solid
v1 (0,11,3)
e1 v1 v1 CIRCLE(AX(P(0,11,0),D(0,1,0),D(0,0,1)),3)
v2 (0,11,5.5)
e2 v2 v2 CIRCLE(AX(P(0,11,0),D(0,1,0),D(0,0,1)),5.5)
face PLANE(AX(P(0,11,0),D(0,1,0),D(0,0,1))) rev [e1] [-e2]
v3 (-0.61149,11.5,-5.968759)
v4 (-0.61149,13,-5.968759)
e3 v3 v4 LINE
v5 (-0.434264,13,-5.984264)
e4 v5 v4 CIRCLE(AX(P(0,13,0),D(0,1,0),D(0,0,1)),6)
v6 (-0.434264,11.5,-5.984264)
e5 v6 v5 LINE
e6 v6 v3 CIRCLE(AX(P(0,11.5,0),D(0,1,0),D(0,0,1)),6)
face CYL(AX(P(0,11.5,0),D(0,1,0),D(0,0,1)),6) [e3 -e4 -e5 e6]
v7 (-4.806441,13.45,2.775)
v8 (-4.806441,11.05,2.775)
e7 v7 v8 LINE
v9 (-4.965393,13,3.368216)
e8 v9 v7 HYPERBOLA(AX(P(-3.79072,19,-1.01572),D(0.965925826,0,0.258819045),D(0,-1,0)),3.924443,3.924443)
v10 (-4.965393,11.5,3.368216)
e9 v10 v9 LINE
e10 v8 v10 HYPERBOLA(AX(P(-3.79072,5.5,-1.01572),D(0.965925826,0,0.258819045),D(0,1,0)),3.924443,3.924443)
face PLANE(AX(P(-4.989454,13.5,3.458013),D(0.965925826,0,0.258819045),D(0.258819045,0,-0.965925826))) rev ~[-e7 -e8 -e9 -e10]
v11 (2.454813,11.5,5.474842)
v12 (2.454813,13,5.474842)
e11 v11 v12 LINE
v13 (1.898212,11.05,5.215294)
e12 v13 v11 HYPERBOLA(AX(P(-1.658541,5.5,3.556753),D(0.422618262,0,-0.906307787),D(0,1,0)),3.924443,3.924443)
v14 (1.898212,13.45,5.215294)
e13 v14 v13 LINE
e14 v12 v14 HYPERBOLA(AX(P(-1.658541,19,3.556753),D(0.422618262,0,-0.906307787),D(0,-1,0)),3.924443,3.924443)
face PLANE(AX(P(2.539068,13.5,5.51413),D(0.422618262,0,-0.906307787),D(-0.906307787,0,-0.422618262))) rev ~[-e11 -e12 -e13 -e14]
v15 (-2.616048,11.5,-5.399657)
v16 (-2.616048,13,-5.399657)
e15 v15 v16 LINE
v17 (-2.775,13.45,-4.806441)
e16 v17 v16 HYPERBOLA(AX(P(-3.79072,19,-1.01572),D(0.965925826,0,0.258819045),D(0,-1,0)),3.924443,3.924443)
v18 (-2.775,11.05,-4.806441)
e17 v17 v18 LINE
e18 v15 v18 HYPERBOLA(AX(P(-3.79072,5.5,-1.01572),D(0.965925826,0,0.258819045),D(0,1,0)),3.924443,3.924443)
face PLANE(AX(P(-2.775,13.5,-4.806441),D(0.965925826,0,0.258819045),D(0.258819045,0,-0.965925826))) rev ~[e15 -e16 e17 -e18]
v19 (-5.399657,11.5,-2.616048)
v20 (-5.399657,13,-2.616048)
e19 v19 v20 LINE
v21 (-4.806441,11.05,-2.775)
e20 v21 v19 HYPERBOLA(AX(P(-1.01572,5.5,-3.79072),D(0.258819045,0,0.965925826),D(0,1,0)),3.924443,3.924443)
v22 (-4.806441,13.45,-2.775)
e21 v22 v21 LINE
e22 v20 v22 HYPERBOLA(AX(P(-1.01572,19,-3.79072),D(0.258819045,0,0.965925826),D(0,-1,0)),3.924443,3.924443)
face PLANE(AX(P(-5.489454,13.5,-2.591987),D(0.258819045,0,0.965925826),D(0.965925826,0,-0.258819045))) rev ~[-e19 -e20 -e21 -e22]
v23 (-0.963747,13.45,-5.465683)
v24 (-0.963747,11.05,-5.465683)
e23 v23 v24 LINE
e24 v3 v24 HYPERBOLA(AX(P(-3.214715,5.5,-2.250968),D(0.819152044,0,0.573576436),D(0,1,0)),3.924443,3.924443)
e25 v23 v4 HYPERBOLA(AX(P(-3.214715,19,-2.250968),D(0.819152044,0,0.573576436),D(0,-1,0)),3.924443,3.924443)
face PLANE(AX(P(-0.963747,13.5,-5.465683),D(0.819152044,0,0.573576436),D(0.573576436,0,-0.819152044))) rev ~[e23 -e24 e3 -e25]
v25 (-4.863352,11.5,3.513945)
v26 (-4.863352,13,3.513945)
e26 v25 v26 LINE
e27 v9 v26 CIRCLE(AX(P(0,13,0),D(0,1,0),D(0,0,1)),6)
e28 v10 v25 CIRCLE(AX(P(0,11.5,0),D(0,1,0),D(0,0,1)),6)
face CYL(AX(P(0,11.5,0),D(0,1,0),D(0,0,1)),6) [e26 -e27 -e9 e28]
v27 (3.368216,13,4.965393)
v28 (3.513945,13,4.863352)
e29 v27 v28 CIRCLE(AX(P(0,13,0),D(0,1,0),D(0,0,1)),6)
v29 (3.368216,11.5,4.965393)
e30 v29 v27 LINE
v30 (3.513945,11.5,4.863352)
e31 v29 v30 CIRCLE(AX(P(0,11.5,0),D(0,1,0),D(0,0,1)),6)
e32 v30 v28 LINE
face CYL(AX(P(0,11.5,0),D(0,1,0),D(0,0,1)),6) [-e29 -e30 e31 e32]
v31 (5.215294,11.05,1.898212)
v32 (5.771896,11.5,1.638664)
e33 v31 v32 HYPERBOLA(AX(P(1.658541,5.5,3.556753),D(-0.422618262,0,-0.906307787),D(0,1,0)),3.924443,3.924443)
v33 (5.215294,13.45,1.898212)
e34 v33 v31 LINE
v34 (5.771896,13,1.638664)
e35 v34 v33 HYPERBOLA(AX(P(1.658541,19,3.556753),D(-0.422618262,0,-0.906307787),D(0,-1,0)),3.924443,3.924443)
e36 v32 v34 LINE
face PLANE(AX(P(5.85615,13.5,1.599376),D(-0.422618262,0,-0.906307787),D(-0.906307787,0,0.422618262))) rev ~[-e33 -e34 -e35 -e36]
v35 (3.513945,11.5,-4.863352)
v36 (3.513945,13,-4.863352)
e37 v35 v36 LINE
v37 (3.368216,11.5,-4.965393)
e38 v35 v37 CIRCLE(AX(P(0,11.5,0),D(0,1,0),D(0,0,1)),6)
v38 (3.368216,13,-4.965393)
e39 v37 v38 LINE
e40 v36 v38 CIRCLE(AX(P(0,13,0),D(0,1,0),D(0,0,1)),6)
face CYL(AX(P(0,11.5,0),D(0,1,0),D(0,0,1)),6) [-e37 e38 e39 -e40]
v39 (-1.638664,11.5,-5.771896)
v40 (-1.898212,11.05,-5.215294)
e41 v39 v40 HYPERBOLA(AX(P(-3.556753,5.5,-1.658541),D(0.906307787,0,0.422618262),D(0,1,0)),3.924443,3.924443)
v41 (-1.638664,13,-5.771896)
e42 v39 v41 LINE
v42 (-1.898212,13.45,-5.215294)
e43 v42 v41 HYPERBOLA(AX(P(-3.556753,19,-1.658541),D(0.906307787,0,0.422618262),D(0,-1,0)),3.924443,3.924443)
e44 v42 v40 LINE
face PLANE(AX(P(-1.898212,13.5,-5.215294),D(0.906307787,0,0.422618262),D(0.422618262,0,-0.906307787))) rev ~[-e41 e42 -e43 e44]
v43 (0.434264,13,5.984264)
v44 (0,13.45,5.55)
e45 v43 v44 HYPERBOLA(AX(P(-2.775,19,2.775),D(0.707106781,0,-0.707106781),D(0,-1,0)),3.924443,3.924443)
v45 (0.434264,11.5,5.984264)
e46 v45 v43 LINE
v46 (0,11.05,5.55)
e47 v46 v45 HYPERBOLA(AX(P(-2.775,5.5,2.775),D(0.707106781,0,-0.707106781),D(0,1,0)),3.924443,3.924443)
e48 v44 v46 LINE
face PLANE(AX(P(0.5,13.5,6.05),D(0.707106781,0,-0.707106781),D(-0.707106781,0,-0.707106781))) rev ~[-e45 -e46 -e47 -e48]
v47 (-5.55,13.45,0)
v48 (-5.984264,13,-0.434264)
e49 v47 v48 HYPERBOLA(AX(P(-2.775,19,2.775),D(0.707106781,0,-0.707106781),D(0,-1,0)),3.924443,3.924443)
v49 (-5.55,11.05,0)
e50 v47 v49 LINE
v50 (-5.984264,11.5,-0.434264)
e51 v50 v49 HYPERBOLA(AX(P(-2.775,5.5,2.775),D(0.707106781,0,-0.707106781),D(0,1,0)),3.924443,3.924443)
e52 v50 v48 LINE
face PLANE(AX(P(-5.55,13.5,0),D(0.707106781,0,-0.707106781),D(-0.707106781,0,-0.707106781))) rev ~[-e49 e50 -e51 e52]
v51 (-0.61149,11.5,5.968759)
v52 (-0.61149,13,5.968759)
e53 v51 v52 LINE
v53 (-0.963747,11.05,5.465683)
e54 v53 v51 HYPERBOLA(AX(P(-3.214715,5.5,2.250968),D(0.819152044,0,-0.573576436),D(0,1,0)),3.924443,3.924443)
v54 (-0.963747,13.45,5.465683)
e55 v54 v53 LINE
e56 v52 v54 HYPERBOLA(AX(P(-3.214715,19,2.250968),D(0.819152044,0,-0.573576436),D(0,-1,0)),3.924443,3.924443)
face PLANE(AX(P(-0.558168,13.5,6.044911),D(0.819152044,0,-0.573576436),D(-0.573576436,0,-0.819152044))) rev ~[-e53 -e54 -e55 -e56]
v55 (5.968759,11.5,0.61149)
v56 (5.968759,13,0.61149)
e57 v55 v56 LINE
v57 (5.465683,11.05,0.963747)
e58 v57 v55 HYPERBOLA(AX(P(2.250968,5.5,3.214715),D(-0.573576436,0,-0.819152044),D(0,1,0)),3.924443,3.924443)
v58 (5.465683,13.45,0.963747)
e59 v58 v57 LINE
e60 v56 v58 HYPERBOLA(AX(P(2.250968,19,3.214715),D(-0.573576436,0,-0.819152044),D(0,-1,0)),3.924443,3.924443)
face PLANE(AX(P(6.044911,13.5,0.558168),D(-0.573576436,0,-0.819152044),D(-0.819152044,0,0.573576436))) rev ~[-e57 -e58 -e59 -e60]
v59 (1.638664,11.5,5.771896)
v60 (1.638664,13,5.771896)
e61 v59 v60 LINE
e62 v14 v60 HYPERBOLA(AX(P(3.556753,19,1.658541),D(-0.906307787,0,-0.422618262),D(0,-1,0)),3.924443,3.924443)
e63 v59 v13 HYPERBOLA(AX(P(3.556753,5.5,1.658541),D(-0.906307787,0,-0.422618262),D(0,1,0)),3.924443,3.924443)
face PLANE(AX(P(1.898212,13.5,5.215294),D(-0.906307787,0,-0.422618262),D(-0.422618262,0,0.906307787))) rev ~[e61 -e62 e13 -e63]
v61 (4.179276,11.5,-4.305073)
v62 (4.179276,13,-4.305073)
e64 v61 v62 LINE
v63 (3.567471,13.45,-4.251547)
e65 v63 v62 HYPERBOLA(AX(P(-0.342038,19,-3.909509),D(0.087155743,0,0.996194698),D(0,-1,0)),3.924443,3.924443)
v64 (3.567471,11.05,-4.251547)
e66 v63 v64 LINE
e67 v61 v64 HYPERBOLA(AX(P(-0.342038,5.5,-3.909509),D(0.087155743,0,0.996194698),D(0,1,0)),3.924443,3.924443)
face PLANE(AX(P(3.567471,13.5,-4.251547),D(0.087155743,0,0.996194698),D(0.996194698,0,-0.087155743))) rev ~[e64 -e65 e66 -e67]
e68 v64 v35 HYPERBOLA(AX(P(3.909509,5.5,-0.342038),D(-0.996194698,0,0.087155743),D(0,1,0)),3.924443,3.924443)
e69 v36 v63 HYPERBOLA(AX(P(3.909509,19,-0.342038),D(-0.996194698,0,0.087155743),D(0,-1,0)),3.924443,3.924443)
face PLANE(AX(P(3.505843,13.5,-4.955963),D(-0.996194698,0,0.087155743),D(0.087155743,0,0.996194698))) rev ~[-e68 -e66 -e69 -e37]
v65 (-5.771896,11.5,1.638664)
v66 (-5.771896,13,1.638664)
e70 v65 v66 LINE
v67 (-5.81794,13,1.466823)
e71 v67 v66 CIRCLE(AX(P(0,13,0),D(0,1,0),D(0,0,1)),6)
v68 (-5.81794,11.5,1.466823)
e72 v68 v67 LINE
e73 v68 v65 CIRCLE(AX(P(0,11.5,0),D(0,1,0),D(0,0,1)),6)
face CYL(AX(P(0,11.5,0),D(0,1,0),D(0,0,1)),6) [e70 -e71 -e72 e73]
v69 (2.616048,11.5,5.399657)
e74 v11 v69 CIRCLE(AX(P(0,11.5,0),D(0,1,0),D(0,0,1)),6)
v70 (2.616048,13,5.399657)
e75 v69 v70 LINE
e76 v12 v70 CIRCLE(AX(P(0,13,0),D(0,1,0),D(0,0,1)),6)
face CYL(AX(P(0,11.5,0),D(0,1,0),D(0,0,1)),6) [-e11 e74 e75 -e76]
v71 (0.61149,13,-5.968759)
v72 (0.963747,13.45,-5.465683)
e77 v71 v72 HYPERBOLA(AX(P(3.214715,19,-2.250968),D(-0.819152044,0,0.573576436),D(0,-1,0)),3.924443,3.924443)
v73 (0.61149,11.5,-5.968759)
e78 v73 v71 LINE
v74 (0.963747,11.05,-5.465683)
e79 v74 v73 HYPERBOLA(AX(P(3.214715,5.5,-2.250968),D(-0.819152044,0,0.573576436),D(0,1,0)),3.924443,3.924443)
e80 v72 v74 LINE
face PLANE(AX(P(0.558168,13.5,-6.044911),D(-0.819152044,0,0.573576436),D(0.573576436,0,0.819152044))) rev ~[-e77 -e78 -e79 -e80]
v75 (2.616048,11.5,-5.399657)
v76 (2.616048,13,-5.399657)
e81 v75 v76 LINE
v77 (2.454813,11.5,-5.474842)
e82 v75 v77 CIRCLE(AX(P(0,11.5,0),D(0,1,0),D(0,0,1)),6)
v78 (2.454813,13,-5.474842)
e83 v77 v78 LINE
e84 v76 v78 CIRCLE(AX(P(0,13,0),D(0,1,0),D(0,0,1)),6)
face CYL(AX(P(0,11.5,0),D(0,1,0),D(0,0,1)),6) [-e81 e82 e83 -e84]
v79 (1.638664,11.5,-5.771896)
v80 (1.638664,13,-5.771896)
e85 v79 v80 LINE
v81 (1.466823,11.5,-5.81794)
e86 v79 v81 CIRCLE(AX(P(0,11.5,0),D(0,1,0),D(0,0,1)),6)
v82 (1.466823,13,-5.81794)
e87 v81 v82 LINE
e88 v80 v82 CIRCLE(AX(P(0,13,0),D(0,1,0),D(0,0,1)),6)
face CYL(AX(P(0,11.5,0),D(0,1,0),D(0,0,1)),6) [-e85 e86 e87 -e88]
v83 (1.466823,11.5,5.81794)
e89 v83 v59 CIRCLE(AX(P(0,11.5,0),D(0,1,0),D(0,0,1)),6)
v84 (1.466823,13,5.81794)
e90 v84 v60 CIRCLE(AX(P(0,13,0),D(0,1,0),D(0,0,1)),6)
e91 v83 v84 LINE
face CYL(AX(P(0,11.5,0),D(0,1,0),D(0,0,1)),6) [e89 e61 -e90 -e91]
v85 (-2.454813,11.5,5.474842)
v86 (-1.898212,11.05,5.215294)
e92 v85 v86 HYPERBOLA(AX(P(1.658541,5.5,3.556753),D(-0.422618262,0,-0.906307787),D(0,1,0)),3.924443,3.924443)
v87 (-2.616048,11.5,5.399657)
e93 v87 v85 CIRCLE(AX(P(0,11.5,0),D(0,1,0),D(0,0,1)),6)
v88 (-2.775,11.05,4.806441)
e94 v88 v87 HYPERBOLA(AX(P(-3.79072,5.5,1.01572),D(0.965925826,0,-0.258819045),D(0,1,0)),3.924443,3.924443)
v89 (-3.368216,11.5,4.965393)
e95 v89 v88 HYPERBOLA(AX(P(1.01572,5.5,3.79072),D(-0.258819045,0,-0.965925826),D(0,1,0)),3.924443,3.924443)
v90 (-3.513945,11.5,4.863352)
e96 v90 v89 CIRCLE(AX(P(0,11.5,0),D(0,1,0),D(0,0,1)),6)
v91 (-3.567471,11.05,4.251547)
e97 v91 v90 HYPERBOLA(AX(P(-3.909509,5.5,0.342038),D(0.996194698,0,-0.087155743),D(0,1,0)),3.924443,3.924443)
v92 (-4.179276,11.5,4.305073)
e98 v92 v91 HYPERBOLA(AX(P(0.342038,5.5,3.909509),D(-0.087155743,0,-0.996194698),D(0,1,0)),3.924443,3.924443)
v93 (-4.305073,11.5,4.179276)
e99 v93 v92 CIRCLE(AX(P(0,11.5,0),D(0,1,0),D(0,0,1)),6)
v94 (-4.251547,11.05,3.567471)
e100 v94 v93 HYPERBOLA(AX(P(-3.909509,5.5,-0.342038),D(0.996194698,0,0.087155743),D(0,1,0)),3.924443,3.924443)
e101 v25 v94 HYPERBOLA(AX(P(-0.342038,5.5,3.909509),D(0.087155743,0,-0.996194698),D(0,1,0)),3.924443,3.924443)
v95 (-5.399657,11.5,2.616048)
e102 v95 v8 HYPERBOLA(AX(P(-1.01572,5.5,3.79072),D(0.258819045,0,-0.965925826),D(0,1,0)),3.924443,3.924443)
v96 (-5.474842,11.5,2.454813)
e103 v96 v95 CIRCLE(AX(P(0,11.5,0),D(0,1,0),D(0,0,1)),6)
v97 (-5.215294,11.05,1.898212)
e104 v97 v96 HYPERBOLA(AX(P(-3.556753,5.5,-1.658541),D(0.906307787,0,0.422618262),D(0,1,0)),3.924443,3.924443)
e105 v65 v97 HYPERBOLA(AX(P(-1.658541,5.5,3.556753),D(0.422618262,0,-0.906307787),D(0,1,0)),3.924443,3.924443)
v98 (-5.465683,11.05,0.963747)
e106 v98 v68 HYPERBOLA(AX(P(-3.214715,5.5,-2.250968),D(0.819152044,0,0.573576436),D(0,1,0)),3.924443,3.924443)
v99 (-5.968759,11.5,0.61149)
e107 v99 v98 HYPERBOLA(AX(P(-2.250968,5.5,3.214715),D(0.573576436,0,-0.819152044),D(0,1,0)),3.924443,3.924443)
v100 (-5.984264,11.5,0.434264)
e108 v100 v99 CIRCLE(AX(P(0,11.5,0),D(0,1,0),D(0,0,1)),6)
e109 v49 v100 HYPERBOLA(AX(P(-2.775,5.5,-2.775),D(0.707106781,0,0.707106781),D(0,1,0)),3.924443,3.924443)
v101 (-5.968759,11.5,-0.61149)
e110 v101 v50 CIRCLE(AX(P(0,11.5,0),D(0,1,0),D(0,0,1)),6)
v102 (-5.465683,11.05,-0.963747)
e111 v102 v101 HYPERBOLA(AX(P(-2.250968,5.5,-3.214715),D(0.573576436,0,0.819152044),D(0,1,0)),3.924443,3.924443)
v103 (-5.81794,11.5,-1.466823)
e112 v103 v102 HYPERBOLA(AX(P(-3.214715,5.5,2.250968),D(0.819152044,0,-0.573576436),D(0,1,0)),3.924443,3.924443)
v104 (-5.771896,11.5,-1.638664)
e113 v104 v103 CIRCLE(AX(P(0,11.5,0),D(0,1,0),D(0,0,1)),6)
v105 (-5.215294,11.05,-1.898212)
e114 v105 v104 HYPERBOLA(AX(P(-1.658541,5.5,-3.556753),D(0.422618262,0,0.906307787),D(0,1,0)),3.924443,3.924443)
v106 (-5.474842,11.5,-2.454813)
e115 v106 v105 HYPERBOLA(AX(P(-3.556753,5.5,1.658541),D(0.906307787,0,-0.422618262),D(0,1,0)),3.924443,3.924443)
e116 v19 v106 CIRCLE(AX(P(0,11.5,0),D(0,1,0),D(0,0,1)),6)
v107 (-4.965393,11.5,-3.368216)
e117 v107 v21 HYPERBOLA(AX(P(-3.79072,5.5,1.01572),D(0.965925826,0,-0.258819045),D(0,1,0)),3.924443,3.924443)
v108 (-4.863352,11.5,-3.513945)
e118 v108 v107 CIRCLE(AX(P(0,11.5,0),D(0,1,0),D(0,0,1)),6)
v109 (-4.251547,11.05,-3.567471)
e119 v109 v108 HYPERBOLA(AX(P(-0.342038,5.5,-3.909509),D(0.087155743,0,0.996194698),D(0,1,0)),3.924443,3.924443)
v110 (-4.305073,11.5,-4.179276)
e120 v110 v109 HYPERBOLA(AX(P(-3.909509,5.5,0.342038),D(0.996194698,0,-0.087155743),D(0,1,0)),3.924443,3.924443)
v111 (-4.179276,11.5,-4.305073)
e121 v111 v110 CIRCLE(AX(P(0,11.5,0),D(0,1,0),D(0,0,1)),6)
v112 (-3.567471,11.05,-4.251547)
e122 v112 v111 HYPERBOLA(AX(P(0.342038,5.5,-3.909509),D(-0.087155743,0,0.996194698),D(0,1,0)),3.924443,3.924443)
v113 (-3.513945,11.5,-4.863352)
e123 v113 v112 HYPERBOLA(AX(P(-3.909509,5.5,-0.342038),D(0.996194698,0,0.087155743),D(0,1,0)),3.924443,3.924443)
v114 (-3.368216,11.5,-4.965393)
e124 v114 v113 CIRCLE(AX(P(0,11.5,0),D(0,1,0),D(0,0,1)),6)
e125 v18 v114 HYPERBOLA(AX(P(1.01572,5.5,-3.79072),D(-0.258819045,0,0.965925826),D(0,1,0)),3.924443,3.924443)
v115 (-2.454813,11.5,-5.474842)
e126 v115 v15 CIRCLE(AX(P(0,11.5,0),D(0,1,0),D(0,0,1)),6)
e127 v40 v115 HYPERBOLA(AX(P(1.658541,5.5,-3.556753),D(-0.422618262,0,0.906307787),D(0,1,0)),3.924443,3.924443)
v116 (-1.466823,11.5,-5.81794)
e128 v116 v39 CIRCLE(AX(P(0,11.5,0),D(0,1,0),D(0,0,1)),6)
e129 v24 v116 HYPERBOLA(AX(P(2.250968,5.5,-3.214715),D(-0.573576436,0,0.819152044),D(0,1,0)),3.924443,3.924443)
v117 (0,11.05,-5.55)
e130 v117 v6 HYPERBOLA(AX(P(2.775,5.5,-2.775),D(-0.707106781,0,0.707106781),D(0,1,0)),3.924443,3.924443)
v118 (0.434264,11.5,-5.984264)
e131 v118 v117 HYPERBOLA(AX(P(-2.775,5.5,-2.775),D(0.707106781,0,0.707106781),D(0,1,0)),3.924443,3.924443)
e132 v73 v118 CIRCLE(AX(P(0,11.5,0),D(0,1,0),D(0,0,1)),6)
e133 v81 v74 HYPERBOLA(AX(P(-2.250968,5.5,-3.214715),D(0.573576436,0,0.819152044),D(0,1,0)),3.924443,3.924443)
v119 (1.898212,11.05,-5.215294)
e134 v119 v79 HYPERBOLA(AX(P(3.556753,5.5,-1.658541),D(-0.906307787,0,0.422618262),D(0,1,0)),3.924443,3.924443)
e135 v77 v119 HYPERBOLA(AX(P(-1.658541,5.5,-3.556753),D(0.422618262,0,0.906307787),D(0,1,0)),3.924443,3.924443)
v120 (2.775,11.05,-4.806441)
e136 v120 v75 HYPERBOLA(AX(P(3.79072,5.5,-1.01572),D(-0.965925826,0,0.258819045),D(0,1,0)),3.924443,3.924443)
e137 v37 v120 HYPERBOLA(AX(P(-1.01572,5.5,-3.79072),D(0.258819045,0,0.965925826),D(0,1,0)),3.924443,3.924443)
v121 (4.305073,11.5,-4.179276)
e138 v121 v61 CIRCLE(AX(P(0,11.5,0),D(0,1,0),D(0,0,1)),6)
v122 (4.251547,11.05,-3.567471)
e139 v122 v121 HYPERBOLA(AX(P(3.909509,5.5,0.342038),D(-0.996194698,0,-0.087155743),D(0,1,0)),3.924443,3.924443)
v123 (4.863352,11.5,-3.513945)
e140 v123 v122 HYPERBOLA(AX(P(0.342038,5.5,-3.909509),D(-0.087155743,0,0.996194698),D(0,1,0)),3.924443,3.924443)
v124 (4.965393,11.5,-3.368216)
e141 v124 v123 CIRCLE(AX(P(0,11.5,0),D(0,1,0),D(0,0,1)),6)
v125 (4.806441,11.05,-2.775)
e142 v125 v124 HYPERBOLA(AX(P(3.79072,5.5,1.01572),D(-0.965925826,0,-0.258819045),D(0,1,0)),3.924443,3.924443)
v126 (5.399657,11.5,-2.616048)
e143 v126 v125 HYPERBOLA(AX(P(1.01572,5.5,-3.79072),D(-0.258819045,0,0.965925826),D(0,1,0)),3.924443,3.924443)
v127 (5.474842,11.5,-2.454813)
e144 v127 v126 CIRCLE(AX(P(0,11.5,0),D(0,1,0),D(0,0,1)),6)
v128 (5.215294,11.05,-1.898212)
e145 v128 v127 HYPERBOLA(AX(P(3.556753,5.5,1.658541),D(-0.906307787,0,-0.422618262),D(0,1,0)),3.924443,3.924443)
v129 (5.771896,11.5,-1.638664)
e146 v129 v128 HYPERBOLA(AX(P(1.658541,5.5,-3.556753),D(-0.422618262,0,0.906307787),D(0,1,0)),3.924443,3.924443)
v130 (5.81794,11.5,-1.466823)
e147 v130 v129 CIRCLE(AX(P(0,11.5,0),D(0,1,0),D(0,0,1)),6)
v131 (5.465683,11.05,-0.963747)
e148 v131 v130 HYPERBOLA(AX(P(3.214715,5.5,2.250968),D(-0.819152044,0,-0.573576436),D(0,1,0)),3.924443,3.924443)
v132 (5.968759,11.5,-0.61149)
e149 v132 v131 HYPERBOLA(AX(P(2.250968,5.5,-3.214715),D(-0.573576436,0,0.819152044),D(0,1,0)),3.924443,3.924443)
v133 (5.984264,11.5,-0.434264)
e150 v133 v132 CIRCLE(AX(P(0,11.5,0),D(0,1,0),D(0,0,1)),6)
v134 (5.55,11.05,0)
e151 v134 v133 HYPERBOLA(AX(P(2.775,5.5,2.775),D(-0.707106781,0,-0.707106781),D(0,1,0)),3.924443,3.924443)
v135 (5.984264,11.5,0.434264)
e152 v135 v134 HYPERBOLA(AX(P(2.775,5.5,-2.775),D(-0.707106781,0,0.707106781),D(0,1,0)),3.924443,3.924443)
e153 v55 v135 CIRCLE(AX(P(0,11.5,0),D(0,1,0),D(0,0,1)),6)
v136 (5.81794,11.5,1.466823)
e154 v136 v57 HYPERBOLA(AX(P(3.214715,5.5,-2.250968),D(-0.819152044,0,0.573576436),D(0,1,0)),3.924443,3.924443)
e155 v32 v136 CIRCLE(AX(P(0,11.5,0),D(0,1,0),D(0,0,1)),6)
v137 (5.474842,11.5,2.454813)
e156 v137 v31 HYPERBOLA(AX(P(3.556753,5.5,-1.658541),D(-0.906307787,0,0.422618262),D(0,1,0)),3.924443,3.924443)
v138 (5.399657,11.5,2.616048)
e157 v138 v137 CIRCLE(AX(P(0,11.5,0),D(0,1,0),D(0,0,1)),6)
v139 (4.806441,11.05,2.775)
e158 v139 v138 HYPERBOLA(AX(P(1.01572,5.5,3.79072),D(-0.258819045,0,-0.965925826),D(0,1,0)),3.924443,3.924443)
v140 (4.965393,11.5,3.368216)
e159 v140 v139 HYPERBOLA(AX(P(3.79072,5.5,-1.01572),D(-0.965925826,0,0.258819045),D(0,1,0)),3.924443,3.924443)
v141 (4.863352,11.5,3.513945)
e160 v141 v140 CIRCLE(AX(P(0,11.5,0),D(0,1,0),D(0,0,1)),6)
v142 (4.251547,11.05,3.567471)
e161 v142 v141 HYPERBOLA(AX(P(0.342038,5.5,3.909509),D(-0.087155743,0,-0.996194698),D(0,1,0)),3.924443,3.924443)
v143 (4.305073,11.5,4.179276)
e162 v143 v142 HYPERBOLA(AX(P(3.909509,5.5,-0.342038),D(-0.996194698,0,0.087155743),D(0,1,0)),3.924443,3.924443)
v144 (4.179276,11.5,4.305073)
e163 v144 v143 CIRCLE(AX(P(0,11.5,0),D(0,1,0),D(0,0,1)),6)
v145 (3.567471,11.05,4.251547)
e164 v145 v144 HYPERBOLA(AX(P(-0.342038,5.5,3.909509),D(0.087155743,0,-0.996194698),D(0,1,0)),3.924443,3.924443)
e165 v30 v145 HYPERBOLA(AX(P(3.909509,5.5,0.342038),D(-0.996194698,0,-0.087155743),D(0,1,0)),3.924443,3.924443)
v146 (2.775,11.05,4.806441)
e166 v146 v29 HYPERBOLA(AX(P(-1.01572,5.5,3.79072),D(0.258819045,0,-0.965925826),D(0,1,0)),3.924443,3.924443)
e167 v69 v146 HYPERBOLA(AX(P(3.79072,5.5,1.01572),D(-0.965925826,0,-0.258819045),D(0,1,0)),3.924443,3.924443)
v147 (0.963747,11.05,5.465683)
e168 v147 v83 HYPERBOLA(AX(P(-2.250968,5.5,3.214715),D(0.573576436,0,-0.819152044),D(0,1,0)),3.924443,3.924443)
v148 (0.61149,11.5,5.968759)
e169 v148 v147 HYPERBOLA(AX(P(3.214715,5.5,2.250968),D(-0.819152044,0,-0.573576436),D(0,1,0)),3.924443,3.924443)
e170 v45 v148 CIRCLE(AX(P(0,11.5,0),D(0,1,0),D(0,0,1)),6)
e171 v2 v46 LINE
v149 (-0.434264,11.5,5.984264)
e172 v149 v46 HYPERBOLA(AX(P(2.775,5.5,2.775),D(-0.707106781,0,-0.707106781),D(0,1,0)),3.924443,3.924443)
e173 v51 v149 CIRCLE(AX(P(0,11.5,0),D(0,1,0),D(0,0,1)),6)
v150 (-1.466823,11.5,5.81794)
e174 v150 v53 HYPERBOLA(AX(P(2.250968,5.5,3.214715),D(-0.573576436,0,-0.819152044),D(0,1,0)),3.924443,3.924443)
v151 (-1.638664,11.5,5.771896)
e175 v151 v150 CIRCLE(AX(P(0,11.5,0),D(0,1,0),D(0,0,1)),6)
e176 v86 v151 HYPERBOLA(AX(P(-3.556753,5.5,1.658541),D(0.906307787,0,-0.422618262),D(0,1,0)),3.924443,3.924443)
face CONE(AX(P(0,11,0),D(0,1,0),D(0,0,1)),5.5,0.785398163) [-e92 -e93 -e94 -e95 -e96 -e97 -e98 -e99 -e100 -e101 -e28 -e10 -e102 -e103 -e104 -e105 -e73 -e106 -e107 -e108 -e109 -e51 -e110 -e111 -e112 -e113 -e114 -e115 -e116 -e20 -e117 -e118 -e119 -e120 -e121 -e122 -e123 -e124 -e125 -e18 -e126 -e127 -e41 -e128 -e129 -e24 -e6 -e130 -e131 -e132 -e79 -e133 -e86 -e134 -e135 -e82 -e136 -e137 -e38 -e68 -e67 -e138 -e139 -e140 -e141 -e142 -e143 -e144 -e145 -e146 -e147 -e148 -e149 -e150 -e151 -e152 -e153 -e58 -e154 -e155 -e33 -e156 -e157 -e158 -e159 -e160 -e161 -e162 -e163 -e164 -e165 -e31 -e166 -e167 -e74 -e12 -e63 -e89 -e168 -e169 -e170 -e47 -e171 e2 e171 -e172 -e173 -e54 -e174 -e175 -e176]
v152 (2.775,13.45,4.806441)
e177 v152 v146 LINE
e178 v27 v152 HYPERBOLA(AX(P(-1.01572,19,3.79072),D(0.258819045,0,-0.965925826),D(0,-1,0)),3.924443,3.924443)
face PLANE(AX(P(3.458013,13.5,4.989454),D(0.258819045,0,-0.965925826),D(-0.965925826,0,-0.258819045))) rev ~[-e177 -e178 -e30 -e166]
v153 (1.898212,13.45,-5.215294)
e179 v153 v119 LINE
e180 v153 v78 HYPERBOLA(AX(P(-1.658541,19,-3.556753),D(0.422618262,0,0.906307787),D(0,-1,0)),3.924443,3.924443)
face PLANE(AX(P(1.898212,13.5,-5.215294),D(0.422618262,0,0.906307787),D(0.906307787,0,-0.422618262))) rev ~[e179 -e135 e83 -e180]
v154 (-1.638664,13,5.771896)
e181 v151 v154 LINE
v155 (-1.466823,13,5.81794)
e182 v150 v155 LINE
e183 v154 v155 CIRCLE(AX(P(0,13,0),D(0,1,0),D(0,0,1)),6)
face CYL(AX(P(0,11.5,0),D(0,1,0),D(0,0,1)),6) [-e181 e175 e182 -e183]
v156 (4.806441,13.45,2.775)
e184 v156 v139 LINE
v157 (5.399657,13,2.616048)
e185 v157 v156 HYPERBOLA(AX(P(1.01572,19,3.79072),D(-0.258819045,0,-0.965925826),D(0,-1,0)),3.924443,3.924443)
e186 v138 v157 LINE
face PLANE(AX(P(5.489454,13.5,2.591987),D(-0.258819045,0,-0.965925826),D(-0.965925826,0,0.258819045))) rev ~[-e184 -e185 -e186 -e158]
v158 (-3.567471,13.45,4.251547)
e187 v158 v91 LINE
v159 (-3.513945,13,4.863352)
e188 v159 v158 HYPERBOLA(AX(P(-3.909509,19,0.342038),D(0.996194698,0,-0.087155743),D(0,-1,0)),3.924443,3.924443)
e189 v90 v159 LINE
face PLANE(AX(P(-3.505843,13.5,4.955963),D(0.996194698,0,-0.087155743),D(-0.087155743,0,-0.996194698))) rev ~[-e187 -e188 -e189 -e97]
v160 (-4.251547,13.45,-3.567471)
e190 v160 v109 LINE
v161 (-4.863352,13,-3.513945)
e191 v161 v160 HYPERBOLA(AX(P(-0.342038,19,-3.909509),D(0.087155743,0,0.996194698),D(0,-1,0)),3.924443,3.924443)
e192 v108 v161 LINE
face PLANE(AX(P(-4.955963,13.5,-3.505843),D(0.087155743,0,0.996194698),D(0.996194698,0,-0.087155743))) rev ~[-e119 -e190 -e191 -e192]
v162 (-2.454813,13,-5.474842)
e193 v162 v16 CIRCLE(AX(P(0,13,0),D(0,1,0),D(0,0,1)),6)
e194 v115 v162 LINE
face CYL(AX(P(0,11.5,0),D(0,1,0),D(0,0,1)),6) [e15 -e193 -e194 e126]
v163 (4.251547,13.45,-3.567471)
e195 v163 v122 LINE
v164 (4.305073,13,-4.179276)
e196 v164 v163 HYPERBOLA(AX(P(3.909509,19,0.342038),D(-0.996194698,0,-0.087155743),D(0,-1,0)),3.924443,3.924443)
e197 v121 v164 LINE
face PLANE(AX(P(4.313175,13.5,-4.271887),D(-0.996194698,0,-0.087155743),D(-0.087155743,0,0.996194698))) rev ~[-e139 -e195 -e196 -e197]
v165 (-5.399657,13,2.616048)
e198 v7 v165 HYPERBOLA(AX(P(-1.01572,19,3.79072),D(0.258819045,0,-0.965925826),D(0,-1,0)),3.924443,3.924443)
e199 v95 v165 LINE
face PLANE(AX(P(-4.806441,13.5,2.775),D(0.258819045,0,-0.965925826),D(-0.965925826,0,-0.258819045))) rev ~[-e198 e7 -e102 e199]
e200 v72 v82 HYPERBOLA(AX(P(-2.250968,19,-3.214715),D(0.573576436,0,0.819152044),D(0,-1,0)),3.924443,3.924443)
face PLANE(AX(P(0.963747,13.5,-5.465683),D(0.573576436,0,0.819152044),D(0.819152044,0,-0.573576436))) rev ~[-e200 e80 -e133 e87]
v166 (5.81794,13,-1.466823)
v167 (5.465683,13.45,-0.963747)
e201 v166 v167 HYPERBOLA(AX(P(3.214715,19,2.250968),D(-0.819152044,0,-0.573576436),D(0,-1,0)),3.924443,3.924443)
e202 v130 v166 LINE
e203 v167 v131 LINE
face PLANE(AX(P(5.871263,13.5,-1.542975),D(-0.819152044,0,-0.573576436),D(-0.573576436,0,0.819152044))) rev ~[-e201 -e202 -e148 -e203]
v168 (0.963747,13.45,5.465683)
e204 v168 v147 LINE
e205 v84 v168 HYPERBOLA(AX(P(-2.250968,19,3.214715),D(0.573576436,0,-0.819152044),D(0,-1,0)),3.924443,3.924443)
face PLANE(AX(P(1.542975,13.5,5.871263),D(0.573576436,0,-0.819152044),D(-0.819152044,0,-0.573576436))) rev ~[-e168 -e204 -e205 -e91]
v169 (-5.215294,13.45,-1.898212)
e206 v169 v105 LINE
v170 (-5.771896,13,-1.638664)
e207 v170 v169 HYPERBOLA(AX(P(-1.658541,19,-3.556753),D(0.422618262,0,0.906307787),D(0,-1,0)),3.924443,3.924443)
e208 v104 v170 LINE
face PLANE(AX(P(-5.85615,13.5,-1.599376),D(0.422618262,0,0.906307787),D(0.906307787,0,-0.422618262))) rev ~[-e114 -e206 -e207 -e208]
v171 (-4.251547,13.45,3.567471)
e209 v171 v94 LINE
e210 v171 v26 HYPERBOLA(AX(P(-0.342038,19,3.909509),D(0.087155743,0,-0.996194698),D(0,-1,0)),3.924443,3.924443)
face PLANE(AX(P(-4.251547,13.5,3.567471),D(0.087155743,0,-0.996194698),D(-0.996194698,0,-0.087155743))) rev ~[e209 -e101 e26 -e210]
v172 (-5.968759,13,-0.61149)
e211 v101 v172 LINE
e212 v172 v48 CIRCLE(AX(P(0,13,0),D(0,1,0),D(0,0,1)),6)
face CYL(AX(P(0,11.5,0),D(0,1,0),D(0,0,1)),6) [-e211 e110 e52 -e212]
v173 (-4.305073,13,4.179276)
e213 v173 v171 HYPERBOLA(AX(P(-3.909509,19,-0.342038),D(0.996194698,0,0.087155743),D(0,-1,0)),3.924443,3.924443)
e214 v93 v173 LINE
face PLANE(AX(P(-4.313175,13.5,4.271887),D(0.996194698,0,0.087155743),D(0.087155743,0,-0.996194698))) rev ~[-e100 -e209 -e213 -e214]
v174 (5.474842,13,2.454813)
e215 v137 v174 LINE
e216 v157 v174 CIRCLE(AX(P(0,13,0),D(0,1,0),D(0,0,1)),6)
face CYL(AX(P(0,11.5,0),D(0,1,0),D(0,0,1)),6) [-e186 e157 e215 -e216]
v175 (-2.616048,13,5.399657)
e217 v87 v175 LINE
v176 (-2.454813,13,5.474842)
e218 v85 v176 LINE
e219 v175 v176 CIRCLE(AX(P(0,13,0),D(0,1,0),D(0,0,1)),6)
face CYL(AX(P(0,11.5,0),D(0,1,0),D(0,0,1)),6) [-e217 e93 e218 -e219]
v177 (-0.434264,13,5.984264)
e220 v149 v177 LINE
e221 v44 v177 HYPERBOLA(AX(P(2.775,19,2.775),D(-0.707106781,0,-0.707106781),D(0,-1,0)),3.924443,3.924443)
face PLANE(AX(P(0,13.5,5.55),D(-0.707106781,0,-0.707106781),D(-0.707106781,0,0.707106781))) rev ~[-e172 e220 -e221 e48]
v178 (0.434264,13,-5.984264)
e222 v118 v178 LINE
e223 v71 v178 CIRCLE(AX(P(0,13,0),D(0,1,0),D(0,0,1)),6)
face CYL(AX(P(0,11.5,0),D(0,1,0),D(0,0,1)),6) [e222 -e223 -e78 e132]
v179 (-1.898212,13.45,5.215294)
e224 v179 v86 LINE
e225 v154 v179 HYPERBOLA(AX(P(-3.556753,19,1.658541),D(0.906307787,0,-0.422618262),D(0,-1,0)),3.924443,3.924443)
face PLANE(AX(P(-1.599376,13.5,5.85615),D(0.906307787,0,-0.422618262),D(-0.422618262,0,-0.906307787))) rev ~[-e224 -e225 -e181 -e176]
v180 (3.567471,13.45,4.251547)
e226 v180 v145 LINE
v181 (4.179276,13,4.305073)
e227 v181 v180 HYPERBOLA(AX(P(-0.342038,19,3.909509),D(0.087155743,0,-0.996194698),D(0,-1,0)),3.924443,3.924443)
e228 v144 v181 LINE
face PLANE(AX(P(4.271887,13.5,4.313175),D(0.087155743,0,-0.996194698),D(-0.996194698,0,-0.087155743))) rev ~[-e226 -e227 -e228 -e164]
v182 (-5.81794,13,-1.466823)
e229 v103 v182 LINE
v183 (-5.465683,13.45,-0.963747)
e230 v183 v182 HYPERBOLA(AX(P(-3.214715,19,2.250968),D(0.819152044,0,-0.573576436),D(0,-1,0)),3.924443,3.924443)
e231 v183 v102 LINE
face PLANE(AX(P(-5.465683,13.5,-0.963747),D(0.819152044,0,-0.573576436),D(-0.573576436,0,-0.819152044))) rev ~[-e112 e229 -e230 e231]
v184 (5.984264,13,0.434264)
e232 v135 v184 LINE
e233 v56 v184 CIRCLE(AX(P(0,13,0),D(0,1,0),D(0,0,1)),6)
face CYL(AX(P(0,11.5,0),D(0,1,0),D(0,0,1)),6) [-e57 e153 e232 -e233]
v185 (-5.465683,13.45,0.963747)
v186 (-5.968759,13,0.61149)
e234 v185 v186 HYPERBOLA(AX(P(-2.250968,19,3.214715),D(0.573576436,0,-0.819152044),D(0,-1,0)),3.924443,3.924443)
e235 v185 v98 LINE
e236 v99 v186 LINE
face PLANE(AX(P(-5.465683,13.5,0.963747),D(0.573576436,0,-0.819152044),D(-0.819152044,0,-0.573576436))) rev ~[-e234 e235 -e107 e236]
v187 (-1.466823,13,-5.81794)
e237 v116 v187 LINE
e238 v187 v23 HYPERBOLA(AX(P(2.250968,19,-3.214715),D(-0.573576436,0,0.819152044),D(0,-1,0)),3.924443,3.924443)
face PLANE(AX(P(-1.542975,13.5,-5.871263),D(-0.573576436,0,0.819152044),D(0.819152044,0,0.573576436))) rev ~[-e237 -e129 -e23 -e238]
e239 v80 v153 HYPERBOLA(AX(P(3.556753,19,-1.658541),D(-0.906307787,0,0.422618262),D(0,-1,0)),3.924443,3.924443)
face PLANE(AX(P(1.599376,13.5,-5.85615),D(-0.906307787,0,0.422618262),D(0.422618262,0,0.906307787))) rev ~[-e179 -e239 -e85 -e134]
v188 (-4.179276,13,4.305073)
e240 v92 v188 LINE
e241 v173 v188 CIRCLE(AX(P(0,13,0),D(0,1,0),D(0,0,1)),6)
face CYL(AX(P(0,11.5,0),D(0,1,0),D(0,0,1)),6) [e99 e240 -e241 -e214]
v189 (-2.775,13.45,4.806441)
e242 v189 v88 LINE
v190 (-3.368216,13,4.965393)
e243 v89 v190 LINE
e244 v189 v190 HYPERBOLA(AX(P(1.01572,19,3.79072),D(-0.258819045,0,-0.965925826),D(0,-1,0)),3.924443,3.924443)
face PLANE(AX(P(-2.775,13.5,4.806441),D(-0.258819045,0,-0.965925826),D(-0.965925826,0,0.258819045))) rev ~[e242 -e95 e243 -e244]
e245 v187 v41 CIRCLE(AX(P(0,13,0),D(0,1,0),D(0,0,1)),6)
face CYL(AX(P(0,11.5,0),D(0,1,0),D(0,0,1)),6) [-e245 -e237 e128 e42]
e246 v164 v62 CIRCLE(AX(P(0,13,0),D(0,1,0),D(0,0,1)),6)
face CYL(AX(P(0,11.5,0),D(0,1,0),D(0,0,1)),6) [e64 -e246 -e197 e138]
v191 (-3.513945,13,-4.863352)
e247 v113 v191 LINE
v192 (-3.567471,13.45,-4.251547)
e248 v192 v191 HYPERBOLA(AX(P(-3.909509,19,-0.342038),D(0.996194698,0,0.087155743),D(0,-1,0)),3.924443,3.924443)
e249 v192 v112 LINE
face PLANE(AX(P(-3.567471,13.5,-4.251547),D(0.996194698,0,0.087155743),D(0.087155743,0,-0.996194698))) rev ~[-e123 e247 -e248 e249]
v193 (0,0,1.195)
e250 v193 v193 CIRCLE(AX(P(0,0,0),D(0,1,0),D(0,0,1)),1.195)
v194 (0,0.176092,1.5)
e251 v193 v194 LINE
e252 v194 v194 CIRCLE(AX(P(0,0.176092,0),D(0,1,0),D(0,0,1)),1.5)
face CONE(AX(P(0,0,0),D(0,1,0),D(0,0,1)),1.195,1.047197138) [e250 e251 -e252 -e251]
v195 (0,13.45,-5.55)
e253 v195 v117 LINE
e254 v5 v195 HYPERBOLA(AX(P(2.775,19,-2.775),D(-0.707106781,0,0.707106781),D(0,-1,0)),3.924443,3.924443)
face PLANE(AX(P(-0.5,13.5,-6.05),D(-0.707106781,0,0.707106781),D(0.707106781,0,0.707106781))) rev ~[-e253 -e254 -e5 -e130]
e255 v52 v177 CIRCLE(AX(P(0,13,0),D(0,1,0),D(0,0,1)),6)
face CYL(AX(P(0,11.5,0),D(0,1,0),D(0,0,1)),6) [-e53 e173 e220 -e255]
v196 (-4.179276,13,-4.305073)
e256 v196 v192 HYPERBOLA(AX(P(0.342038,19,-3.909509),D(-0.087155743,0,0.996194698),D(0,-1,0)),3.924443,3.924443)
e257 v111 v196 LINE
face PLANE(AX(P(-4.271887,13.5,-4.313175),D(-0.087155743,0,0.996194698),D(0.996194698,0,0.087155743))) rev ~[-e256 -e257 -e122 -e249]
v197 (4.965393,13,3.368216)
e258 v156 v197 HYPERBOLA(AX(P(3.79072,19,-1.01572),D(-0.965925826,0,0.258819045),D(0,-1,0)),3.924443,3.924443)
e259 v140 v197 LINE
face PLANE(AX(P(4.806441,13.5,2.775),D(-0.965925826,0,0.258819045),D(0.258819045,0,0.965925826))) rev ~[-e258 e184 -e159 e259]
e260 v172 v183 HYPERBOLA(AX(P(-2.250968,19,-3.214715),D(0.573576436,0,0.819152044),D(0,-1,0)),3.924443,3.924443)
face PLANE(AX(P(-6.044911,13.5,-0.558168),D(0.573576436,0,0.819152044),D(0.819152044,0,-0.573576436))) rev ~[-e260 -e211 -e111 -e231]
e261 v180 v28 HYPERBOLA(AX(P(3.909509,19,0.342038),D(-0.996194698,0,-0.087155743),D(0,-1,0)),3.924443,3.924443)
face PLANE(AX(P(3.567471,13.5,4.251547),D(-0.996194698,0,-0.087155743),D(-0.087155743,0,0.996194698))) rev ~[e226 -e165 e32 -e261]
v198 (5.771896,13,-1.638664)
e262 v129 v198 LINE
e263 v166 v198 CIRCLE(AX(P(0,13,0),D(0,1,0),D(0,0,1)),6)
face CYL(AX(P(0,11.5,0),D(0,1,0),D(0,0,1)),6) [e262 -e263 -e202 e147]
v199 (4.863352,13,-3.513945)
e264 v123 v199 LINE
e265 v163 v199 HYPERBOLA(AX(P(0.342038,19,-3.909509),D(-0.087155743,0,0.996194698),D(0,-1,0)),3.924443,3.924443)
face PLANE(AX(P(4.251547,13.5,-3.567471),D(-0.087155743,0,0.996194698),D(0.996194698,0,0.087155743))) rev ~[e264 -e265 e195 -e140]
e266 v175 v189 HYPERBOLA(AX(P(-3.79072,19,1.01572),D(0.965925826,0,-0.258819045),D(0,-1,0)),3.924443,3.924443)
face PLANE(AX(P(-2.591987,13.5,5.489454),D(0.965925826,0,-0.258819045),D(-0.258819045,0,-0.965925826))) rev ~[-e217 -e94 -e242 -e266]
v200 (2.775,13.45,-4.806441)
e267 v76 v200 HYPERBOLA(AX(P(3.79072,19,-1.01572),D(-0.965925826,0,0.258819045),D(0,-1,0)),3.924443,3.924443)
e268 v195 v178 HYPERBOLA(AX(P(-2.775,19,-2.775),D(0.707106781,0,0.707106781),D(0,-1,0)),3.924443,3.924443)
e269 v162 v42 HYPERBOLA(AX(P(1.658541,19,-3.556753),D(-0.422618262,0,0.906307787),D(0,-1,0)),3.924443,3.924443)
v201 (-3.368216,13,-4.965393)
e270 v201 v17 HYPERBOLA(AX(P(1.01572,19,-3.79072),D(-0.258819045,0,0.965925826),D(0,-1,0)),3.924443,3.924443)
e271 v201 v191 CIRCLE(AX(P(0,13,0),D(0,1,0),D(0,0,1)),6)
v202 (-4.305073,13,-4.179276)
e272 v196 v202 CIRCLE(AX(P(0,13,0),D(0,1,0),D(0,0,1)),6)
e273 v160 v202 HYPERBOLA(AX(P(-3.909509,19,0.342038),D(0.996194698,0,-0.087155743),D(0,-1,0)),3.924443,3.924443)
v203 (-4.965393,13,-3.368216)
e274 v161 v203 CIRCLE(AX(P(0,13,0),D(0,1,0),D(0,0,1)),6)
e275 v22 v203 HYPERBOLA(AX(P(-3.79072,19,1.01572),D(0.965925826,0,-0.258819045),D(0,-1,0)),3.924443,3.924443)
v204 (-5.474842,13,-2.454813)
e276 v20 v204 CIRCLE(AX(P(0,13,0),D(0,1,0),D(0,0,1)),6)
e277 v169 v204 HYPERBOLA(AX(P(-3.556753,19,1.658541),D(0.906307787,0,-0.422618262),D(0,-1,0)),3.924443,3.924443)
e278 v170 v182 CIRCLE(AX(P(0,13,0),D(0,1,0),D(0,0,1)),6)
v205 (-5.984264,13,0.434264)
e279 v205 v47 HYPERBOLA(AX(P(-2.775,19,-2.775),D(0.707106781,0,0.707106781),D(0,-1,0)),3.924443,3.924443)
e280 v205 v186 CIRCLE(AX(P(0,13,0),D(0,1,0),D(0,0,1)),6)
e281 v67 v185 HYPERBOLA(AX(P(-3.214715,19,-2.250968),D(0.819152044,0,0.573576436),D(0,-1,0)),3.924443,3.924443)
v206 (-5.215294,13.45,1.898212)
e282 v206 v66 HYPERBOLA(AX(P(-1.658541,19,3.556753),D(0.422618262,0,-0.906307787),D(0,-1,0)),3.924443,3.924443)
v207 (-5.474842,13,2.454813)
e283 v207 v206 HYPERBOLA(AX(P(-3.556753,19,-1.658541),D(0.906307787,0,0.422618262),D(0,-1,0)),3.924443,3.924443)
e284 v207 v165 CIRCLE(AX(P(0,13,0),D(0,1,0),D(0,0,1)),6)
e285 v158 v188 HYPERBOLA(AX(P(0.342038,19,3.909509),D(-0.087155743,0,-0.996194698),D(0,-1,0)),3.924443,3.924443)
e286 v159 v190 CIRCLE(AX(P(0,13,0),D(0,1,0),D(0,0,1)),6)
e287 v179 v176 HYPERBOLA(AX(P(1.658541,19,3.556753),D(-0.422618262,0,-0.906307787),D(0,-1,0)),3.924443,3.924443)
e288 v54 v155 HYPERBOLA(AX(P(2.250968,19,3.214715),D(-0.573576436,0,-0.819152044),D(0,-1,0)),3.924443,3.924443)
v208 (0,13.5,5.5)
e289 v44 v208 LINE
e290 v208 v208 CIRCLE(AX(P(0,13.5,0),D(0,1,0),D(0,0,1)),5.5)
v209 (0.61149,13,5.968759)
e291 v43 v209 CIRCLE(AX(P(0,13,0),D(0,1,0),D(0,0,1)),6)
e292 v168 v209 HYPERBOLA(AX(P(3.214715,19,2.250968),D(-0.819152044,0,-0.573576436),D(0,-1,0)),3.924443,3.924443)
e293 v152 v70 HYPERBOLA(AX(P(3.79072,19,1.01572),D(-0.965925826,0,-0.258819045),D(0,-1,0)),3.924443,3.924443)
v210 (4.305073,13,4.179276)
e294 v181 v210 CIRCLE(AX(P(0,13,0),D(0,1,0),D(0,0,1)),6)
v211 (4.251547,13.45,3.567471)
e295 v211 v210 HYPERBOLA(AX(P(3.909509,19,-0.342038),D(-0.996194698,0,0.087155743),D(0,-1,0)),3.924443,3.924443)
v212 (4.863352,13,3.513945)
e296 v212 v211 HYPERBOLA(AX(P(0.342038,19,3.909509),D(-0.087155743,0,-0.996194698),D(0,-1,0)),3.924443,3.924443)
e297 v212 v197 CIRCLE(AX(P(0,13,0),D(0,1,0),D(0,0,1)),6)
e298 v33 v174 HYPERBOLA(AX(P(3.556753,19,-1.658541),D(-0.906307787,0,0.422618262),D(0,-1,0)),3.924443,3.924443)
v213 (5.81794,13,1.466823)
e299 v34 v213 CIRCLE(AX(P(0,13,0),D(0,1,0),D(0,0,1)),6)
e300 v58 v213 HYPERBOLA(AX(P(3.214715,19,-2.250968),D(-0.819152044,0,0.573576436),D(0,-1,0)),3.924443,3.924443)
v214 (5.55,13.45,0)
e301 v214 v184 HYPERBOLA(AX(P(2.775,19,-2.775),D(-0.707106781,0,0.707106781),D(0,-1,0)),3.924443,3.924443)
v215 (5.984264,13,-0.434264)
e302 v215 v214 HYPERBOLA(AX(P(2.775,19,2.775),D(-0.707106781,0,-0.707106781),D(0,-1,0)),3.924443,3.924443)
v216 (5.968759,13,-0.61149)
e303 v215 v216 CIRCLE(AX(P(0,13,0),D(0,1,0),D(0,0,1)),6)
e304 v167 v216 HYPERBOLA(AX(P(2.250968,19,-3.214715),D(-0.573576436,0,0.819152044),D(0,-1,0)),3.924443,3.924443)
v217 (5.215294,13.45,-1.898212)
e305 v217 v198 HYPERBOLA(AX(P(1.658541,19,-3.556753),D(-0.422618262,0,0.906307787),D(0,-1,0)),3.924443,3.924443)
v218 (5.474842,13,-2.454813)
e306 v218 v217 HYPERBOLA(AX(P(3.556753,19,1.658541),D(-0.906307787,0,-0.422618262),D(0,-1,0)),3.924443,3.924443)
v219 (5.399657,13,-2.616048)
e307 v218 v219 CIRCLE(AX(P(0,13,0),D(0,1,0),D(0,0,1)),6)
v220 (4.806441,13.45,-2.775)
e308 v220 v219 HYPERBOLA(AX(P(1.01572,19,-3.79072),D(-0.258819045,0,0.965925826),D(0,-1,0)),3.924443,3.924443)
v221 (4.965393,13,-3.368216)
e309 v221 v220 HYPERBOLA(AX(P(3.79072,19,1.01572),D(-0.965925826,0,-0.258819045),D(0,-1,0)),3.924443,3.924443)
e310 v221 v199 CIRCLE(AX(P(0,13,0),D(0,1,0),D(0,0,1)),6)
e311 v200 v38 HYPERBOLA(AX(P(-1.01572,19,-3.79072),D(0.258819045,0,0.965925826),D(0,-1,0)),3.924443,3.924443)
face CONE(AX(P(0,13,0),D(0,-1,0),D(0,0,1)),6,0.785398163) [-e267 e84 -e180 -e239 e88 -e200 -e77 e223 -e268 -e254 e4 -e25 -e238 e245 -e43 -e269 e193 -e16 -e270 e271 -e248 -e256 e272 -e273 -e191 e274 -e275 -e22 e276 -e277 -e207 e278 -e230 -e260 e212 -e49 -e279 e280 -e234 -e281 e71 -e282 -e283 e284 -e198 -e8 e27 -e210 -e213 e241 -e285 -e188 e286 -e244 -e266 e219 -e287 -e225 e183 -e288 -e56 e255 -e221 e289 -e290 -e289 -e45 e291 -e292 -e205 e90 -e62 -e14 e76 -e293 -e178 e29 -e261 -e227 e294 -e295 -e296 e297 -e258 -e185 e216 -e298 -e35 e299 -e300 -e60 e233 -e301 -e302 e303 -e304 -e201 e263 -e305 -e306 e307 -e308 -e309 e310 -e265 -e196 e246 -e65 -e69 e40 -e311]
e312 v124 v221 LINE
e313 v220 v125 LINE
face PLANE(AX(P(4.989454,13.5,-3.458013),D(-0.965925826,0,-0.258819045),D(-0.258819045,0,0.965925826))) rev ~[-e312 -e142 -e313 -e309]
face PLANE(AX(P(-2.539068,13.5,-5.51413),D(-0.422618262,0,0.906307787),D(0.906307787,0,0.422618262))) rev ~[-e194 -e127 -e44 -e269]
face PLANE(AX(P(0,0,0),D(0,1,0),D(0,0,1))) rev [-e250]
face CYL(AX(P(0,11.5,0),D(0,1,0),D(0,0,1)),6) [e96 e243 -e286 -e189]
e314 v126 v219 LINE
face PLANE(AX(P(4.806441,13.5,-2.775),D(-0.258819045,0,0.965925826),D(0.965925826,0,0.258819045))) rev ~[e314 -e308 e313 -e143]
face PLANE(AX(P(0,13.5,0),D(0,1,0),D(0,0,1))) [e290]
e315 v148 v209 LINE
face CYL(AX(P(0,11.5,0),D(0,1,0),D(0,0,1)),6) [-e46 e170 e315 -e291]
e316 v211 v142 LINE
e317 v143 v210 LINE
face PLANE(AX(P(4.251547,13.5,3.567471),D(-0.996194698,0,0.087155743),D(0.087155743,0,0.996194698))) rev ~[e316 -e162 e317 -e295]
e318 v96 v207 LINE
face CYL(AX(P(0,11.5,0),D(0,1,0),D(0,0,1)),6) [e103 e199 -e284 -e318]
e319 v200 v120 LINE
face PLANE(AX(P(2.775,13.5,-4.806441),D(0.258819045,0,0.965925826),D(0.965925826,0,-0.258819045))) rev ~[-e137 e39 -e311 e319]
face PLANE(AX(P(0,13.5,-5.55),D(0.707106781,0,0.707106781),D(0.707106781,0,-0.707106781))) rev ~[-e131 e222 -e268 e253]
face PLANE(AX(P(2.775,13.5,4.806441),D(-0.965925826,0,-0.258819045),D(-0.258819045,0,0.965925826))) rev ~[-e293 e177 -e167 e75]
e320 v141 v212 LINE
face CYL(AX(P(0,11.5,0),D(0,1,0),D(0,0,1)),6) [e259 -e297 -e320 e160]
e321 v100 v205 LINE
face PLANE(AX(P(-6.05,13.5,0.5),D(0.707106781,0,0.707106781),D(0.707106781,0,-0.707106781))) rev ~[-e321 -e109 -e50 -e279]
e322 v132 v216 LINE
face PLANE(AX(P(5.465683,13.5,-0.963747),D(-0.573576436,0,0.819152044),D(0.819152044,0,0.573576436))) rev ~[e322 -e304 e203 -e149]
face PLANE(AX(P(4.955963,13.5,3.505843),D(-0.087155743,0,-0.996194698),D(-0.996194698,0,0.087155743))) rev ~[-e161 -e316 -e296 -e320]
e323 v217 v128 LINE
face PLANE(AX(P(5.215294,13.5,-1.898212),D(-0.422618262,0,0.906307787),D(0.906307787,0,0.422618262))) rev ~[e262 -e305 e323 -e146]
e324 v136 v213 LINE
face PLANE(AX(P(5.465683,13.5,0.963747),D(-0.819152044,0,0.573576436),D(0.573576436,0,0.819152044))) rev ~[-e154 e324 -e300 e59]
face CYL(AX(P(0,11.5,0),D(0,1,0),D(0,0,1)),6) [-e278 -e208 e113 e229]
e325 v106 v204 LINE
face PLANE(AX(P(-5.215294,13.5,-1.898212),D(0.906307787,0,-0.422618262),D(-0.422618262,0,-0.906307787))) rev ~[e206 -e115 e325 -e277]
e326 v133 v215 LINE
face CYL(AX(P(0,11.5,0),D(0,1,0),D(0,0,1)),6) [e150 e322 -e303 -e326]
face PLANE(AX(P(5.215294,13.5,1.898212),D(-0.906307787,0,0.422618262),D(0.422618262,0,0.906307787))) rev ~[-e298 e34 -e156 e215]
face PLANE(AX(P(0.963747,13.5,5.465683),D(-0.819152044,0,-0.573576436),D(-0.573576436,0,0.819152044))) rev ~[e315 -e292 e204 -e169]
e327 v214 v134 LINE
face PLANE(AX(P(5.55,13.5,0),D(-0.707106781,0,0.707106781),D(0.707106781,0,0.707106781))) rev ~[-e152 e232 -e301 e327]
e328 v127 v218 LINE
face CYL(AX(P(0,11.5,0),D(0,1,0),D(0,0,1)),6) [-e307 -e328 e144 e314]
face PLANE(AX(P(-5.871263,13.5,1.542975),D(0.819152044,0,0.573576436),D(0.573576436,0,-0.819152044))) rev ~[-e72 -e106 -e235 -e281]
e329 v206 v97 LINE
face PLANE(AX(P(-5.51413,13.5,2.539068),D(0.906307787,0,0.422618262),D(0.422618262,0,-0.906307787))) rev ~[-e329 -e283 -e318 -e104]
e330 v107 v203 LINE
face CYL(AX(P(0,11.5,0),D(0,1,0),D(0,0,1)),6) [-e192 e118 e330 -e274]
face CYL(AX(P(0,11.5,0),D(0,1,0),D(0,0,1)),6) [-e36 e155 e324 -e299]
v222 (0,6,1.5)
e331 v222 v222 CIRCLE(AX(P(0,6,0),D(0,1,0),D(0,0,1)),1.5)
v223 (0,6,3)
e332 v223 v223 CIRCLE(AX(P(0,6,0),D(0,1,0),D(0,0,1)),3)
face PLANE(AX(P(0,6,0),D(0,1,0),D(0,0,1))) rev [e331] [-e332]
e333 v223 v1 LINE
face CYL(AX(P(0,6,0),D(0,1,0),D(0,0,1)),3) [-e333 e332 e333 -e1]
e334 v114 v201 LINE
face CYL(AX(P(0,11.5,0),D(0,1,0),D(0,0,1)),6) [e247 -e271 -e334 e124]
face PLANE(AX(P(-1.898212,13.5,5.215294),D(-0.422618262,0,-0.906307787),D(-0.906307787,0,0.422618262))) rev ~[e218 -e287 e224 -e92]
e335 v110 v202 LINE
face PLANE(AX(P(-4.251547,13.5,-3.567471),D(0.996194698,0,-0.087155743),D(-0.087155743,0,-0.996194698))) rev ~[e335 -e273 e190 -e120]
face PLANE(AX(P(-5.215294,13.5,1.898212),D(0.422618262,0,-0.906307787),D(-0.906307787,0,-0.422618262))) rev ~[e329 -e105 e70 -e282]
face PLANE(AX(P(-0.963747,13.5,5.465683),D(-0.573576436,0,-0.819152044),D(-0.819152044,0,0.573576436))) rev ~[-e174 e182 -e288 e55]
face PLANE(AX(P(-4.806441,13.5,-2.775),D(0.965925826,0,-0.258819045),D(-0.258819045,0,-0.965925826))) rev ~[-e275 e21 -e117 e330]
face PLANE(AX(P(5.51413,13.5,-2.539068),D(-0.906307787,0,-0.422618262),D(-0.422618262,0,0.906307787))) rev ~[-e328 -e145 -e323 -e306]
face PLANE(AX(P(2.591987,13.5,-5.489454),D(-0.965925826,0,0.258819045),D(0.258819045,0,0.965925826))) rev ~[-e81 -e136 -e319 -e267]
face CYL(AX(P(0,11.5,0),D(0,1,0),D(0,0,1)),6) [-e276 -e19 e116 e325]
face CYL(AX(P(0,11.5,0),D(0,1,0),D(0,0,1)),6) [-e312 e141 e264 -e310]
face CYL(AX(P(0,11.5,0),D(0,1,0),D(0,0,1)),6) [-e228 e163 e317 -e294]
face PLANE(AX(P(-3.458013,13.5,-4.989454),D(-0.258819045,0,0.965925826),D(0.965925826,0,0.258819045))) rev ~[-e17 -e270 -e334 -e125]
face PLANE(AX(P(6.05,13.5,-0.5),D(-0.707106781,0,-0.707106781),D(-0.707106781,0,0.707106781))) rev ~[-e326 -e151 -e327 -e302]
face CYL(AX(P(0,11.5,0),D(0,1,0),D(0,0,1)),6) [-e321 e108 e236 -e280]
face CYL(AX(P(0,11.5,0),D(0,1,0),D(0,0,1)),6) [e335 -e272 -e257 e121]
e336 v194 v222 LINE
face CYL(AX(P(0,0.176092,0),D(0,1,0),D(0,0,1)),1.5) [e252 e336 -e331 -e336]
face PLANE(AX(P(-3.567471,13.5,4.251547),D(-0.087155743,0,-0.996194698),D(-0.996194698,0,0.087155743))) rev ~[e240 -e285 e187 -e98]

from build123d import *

# Parameters (mm, degrees)
POCKET_DEPTH       = 56.871497
POLARPATTERN_COUNT = 36


with BuildPart() as part:
    # Sketch → Revolution (revolve)
    with BuildSketch(Plane.YZ):
        Polygon((0, 0), (0, 1.195), (0.176092, 1.5), (6, 1.5), (6, 3), (11, 3), (11, 5.5), (11.5, 6), (13, 6), (13.5, 5.5), (13.5, 0), align=None)
    revolve(axis=Axis((0, 0, 0), (0, 1, 0)))

    # Sketch001 → Pocket (cut, through all)
    with BuildSketch(Plane.ZX.offset(13.5)):
        Polygon((-0.5, 6.05), (0, 5.55), (0.5, 6.05), align=None)
    pocket = extrude(amount=-POCKET_DEPTH, mode=Mode.SUBTRACT)

    # PolarPattern: Pocket ×36 about axis
    polarpattern_axis = Axis((0, 13.5, 0), (0, 1, 0))
    for i in range(1, POLARPATTERN_COUNT):
        add(pocket.rotate(polarpattern_axis, i * 360 / POLARPATTERN_COUNT), mode=Mode.SUBTRACT)


solid = part.part
